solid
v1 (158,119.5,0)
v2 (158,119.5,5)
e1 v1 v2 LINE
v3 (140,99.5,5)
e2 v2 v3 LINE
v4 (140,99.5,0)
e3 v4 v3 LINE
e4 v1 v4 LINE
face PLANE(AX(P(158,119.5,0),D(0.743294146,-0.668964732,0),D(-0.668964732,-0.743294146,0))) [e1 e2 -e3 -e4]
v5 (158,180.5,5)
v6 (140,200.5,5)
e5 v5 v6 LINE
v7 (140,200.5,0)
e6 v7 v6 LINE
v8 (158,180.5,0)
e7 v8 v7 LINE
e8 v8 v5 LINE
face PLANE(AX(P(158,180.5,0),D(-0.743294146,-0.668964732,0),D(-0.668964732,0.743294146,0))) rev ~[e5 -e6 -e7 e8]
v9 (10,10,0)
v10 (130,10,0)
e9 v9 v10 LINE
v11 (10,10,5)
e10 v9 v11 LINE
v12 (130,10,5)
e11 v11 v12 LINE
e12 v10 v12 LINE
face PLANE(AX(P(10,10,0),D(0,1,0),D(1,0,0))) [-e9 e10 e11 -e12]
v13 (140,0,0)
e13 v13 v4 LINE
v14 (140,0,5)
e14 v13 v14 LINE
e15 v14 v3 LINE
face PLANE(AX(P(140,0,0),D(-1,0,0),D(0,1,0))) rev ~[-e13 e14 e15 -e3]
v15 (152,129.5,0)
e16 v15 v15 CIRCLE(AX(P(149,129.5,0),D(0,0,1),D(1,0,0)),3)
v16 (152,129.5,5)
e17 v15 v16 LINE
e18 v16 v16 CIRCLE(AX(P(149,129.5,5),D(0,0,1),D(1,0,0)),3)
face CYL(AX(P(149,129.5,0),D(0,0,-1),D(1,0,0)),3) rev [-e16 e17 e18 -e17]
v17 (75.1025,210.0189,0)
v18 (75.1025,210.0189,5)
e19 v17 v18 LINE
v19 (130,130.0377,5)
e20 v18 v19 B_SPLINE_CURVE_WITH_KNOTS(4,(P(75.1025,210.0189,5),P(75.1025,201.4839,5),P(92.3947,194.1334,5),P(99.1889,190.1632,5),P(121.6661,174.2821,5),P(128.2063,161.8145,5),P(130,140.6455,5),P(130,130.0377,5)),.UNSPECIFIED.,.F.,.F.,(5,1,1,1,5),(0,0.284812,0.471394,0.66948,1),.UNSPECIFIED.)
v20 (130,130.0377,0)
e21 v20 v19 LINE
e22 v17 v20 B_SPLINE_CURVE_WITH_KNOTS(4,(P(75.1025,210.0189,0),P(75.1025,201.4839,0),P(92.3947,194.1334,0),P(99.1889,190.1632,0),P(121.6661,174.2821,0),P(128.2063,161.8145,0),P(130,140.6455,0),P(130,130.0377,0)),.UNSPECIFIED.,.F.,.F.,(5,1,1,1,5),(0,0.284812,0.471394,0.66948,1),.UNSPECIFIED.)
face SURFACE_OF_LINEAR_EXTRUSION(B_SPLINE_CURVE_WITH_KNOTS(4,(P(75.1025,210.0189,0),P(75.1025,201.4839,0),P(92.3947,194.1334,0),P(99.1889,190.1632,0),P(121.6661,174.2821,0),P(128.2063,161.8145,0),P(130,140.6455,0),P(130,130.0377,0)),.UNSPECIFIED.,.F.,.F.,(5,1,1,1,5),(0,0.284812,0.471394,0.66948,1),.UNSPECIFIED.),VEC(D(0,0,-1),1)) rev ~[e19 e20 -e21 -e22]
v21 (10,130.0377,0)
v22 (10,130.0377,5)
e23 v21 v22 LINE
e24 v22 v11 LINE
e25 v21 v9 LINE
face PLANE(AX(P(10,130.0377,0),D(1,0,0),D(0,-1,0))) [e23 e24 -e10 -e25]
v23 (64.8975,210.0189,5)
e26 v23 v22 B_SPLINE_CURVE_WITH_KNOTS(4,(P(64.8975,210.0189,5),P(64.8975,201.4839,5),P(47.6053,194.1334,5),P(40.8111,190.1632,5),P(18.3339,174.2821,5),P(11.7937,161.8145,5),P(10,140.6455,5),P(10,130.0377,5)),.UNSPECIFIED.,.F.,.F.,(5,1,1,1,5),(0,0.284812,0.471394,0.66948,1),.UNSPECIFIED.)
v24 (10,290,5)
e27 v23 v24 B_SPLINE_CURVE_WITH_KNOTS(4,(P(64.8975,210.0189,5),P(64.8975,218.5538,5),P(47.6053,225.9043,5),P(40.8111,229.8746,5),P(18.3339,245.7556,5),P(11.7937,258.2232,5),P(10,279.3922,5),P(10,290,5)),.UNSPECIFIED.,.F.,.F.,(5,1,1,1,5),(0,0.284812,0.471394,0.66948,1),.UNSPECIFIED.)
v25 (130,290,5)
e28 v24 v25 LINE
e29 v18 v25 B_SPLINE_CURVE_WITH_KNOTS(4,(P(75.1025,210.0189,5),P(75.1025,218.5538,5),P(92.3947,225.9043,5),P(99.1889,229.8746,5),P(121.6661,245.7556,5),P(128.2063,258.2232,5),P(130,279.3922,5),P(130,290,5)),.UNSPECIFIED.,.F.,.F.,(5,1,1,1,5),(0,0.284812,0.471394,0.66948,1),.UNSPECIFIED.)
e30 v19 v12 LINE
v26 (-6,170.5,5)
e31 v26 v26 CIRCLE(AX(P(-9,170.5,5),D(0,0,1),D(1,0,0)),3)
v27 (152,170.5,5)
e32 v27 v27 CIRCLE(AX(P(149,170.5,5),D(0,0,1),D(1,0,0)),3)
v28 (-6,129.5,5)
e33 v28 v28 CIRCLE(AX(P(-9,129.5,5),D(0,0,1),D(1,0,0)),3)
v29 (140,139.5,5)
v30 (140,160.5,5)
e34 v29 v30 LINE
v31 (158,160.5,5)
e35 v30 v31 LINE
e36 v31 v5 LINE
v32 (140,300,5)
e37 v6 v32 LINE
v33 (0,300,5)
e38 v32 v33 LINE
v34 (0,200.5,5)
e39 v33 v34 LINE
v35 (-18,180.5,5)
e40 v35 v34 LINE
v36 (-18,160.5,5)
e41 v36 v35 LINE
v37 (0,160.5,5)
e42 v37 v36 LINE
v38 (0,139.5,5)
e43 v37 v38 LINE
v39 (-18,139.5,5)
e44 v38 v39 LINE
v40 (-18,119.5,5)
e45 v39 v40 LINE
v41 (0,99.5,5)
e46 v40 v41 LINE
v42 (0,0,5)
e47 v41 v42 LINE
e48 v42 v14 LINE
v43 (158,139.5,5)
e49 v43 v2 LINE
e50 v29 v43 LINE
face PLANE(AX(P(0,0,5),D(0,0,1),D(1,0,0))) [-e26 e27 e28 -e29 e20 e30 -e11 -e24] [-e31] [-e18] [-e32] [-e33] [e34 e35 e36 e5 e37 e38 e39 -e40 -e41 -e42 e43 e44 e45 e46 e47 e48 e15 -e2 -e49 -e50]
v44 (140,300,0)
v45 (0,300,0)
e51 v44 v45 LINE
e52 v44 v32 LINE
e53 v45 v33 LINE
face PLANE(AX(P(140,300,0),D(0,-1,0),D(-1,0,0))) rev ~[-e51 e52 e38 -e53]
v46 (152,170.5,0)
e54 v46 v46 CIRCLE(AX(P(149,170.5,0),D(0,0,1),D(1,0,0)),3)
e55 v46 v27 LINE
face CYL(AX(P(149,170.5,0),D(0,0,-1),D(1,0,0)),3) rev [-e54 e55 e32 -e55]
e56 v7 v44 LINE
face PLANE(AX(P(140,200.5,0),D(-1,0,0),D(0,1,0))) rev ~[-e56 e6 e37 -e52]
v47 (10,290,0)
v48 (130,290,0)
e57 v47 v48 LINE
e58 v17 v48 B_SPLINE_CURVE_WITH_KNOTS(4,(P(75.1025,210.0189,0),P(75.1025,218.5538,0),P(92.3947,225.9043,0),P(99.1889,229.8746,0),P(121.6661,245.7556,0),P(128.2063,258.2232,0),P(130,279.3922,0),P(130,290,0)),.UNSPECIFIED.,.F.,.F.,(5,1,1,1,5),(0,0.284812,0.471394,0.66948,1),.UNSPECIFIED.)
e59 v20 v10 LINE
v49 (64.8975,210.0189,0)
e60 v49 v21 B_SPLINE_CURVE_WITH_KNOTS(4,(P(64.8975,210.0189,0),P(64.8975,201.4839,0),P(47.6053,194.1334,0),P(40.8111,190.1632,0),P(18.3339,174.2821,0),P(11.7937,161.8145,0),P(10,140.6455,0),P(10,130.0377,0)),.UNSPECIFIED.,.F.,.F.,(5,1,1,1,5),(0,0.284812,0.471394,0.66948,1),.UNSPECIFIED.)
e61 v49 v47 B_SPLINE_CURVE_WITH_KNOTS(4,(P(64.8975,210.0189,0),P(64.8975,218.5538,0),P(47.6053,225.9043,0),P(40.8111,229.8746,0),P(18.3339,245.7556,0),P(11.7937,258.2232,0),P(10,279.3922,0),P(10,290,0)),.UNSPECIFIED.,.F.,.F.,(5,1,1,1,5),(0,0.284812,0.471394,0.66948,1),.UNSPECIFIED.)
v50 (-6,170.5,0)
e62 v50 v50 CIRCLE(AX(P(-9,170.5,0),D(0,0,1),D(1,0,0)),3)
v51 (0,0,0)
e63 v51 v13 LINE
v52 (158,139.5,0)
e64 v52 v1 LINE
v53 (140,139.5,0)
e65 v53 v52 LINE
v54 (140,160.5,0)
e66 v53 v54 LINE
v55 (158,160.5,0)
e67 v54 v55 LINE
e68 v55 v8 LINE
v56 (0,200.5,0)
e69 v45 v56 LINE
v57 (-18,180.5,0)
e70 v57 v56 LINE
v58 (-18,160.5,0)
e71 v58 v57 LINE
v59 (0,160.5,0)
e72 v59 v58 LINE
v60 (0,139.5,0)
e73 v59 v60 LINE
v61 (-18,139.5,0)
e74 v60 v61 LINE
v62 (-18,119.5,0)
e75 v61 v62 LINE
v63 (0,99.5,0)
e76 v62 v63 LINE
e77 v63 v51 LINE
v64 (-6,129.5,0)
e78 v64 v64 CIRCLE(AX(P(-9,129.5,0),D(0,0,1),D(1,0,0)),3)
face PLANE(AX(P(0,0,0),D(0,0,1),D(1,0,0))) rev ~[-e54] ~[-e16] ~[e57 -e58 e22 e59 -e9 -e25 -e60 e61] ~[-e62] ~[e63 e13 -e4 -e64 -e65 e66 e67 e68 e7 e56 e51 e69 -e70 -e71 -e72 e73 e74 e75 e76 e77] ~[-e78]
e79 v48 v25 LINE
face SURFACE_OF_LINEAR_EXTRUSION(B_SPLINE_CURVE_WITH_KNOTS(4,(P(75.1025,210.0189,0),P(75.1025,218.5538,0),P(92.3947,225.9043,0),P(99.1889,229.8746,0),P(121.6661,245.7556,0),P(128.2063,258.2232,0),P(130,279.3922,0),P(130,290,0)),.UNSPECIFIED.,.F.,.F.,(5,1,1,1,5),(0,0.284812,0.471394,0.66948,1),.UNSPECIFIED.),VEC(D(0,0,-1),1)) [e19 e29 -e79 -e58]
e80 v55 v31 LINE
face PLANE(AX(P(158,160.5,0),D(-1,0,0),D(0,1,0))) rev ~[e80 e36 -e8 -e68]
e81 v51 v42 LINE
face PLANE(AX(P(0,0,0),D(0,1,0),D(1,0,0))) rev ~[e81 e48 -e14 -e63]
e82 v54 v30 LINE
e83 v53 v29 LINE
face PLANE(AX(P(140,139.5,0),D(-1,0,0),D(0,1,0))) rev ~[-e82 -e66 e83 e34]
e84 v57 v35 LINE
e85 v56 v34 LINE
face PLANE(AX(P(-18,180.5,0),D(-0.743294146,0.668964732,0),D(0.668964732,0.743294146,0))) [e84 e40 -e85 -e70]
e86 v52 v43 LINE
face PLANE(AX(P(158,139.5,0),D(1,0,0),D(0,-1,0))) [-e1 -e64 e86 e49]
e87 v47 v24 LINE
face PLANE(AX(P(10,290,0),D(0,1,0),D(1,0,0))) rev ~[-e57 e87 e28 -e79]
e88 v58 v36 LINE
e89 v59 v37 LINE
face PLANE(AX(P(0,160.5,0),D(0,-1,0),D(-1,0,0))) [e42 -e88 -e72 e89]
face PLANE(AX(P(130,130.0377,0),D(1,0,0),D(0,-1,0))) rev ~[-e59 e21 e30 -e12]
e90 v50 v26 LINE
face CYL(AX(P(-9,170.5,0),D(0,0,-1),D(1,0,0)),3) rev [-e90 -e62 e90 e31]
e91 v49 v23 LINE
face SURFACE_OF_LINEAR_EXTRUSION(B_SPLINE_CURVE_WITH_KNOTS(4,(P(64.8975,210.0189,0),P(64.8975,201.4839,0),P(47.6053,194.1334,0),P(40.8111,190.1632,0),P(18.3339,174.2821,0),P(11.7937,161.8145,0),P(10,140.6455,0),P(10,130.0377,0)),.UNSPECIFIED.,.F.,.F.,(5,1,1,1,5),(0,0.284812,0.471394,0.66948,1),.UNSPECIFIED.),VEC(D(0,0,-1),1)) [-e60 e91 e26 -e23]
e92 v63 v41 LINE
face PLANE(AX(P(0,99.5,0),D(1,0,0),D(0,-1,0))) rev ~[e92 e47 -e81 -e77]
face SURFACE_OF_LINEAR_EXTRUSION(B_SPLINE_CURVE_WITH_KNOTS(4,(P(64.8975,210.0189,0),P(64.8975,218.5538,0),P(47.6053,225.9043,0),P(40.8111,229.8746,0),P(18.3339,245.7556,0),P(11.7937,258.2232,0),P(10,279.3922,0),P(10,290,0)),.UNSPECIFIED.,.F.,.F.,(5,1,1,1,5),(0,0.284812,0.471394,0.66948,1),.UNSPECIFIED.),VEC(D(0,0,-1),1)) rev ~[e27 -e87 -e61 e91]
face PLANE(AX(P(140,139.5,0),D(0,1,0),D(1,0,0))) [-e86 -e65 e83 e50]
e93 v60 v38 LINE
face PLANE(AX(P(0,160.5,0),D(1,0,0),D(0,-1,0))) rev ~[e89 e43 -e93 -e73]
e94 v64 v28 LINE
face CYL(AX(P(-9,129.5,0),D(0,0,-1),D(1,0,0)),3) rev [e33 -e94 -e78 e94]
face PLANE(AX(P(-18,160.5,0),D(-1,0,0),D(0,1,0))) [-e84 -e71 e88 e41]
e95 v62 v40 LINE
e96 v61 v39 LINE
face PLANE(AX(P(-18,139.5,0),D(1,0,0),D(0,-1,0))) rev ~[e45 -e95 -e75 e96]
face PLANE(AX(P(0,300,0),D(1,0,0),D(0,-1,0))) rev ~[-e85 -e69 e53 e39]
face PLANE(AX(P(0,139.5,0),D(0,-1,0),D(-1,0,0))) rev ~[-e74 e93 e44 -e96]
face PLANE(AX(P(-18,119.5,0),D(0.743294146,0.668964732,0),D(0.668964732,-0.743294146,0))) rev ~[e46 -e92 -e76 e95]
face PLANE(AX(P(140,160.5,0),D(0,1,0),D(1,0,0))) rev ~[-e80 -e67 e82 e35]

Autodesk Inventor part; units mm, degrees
ref_plane "YZ Plane" through (0, 0, 0) normal (1, 0, 0) x (0, 1, 0)
ref_plane "XZ Plane" through (0, 0, 0) normal (0, 1, 0) x (-1, 0, 0)
ref_plane "XY Plane" through (0, 0, 0) normal (0, 0, 1) x (1, 0, 0)
sketch "Sketch1" plane through (0, 0, 0) normal (0, 0, 1) x (1, 0, 0)
  line L0 (0, 0) -> (140, 0)
  line L1 (140, 0) -> (140, 300)
  line L2 (140, 300) -> (0, 300)
  line L3 (0, 300) -> (0, 0)
  line L4 (10, 290) -> (130, 290)
  line L5 (130, 290) -> (130, 10) construction
  line L6 (130, 10) -> (10, 10) construction
  line L7 (10, 10) -> (10, 290) construction
  line L8 (55.013, 210.0189) -> (44.1329, 210.0189) construction
  line L9 (10, 290) -> (130, 290) construction
  line L10 (70, 311.1686) -> (70, 319.6965) construction
  line L11 (64.8975, 210.0189) -> (64.8975, 204.1374) construction
  line L12 (75.1025, 210.0189) -> (75.1025, 204.1374) construction
  spline S0 degree 4 poles (64.8975, 210.0189) (64.8975, 218.5538) (47.6053, 225.9043) (40.8111, 229.8746) (18.3339, 245.7556) (11.7937, 258.2232) (10, 279.3922) (10, 290) knots 0 0 0 0 0 0.284812 0.471394 0.66948 1 1 1 1 1
  line L13 (10, 290) -> (10, 266.9306) construction
  spline S1 degree 4 poles (75.1025, 210.0189) (75.1025, 218.5538) (92.3947, 225.9043) (99.1889, 229.8746) (121.6661, 245.7556) (128.2063, 258.2232) (130, 279.3922) (130, 290) knots 0 0 0 0 0 0.284812 0.471394 0.66948 1 1 1 1 1
  spline S2 degree 4 poles (64.8975, 210.0189) (64.8975, 201.4839) (47.6053, 194.1334) (40.8111, 190.1632) (18.3339, 174.2821) (11.7937, 161.8145) (10, 140.6455) (10, 130.0377) knots 0 0 0 0 0 0.284812 0.471394 0.66948 1 1 1 1 1
  spline S3 degree 4 poles (75.1025, 210.0189) (75.1025, 201.4839) (92.3947, 194.1334) (99.1889, 190.1632) (121.6661, 174.2821) (128.2063, 161.8145) (130, 140.6455) (130, 130.0377) knots 0 0 0 0 0 0.284812 0.471394 0.66948 1 1 1 1 1
  line L14 (10, 130.0377) -> (10, 10)
  line L15 (130, 130.0377) -> (130, 10)
  line L16 (10, 10) -> (130, 10)
  line L17 (240, 186.8124) -> (240, 163.5372) construction
  line L18 (480, 0) -> (340, 0) construction
  line L19 (340, 0) -> (340, 300) construction
  line L20 (340, 300) -> (480, 300) construction
  line L21 (480, 300) -> (480, 0) construction
  line L22 (470, 290) -> (350, 290) construction
  line L23 (350, 290) -> (350, 10) construction
  line L24 (350, 10) -> (470, 10) construction
  line L25 (470, 10) -> (470, 290) construction
  line L26 (424.987, 210.0189) -> (435.8671, 210.0189) construction
  line L27 (470, 290) -> (350, 290) construction
  line L28 (410, 311.1686) -> (410, 319.6965) construction
  line L29 (415.1025, 210.0189) -> (415.1025, 204.1374) construction
  line L30 (404.8975, 210.0189) -> (404.8975, 204.1374) construction
  spline S4 degree 4 poles (415.1025, 210.0189) (415.1025, 218.5538) (432.3947, 225.9043) (439.1889, 229.8746) (461.6661, 245.7556) (468.2063, 258.2232) (470, 279.3922) (470, 290) knots 0 0 0 0 0 0.284812 0.471394 0.66948 1 1 1 1 1 construction
  line L31 (470, 290) -> (470, 266.9306) construction
  spline S5 degree 4 poles (404.8975, 210.0189) (394.814, 224.8509) (381.6315, 227.4313) (352.9317, 245.1456) (350.4567, 267.2032) (350, 290) knots 0 0 0 0 0 0.471394 1 1 1 1 1 construction
  spline S6 degree 4 poles (415.1025, 210.0189) (425.186, 195.1868) (438.3685, 192.6065) (467.0683, 174.8921) (469.5433, 152.8345) (470, 130.0377) knots 0 0 0 0 0 0.471394 1 1 1 1 1 construction
  spline S7 degree 4 poles (404.8975, 210.0189) (394.814, 195.1868) (381.6315, 192.6065) (352.9317, 174.8921) (350.4567, 152.8345) (350, 130.0377) knots 0 0 0 0 0 0.471394 1 1 1 1 1 construction
  line L32 (355, 14.5) -> (355, 130.0377)
  line L33 (355, 130.0377) -> (357, 130.0377)
  line L34 (357, 130.0377) -> (357, 14.5)
  arc A0 (353.5, 13) -> (355, 14.5) centre (353.5, 14.5) ccw
  arc A1 (351, 14.5) -> (352.5, 13) centre (352.5, 14.5) ccw construction
  line L35 (352.5, 13) -> (353.5, 13)
  arc A2 (357, 14.5) -> (358.5, 13) centre (358.5, 14.5) ccw
  line L36 (358.5, 13) -> (359.5, 13)
  line L37 (361, 14.5) -> (361, 130.0377)
  line L38 (363, 130.0377) -> (363, 14.5)
  arc A3 (359.5, 13) -> (361, 14.5) centre (359.5, 14.5) ccw
  line L39 (361, 130.0377) -> (363, 130.0377)
  arc A4 (363, 14.5) -> (364.5, 13) centre (364.5, 14.5) ccw
  line L40 (364.5, 13) -> (365.5, 13)
  line L41 (367, 14.5) -> (367, 130.0377)
  line L42 (369, 130.0377) -> (369, 14.5)
  arc A5 (365.5, 13) -> (367, 14.5) centre (365.5, 14.5) ccw
  line L43 (367, 130.0377) -> (369, 130.0377)
  arc A6 (369, 14.5) -> (370.5, 13) centre (370.5, 14.5) ccw
  line L44 (370.5, 13) -> (371.5, 13)
  line L45 (373, 14.5) -> (373, 130.0377)
  line L46 (375, 130.0377) -> (375, 14.5)
  arc A7 (371.5, 13) -> (373, 14.5) centre (371.5, 14.5) ccw
  line L47 (373, 130.0377) -> (375, 130.0377)
  arc A8 (375, 14.5) -> (376.5, 13) centre (376.5, 14.5) ccw
  line L48 (376.5, 13) -> (377.5, 13)
  line L49 (379, 14.5) -> (379, 130.0377)
  line L50 (381, 130.0377) -> (381, 14.5)
  arc A9 (377.5, 13) -> (379, 14.5) centre (377.5, 14.5) ccw
  line L51 (379, 130.0377) -> (381, 130.0377)
  arc A10 (381, 14.5) -> (382.5, 13) centre (382.5, 14.5) ccw
  line L52 (382.5, 13) -> (383.5, 13)
  line L53 (385, 14.5) -> (385, 130.0377)
  line L54 (387, 130.0377) -> (387, 14.5)
  arc A11 (383.5, 13) -> (385, 14.5) centre (383.5, 14.5) ccw
  line L55 (385, 130.0377) -> (387, 130.0377)
  arc A12 (387, 14.5) -> (388.5, 13) centre (388.5, 14.5) ccw
  line L56 (388.5, 13) -> (389.5, 13)
  line L57 (391, 14.5) -> (391, 130.0377)
  line L58 (393, 130.0377) -> (393, 14.5)
  arc A13 (389.5, 13) -> (391, 14.5) centre (389.5, 14.5) ccw
  line L59 (391, 130.0377) -> (393, 130.0377)
  arc A14 (393, 14.5) -> (394.5, 13) centre (394.5, 14.5) ccw
  line L60 (394.5, 13) -> (395.5, 13)
  line L61 (397, 14.5) -> (397, 130.0377)
  line L62 (399, 130.0377) -> (399, 14.5)
  arc A15 (395.5, 13) -> (397, 14.5) centre (395.5, 14.5) ccw
  line L63 (397, 130.0377) -> (399, 130.0377)
  arc A16 (399, 14.5) -> (400.5, 13) centre (400.5, 14.5) ccw
  line L64 (400.5, 13) -> (401.5, 13)
  line L65 (403, 14.5) -> (403, 130.0377)
  line L66 (405, 130.0377) -> (405, 14.5)
  arc A17 (401.5, 13) -> (403, 14.5) centre (401.5, 14.5) ccw
  line L67 (403, 130.0377) -> (405, 130.0377)
  arc A18 (405, 14.5) -> (406.5, 13) centre (406.5, 14.5) ccw
  line L68 (406.5, 13) -> (407.5, 13)
  line L69 (409, 14.5) -> (409, 130.0377)
  line L70 (411, 130.0377) -> (411, 14.5)
  arc A19 (407.5, 13) -> (409, 14.5) centre (407.5, 14.5) ccw
  line L71 (409, 130.0377) -> (411, 130.0377)
  arc A20 (411, 14.5) -> (412.5, 13) centre (412.5, 14.5) ccw
  line L72 (412.5, 13) -> (413.5, 13)
  line L73 (415, 14.5) -> (415, 130.0377)
  line L74 (417, 130.0377) -> (417, 14.5)
  arc A21 (413.5, 13) -> (415, 14.5) centre (413.5, 14.5) ccw
  line L75 (415, 130.0377) -> (417, 130.0377)
  arc A22 (417, 14.5) -> (418.5, 13) centre (418.5, 14.5) ccw
  line L76 (418.5, 13) -> (419.5, 13)
  line L77 (421, 14.5) -> (421, 130.0377)
  line L78 (423, 130.0377) -> (423, 14.5)
  arc A23 (419.5, 13) -> (421, 14.5) centre (419.5, 14.5) ccw
  line L79 (421, 130.0377) -> (423, 130.0377)
  arc A24 (423, 14.5) -> (424.5, 13) centre (424.5, 14.5) ccw
  line L80 (424.5, 13) -> (425.5, 13)
  line L81 (427, 14.5) -> (427, 130.0377)
  line L82 (429, 130.0377) -> (429, 14.5)
  arc A25 (425.5, 13) -> (427, 14.5) centre (425.5, 14.5) ccw
  line L83 (427, 130.0377) -> (429, 130.0377)
  arc A26 (429, 14.5) -> (430.5, 13) centre (430.5, 14.5) ccw
  line L84 (430.5, 13) -> (431.5, 13)
  line L85 (433, 14.5) -> (433, 130.0377)
  line L86 (435, 130.0377) -> (435, 14.5)
  arc A27 (431.5, 13) -> (433, 14.5) centre (431.5, 14.5) ccw
  line L87 (433, 130.0377) -> (435, 130.0377)
  arc A28 (435, 14.5) -> (436.5, 13) centre (436.5, 14.5) ccw
  line L88 (436.5, 13) -> (437.5, 13)
  line L89 (439, 14.5) -> (439, 130.0377)
  line L90 (441, 130.0377) -> (441, 14.5)
  arc A29 (437.5, 13) -> (439, 14.5) centre (437.5, 14.5) ccw
  line L91 (439, 130.0377) -> (441, 130.0377)
  arc A30 (441, 14.5) -> (442.5, 13) centre (442.5, 14.5) ccw
  line L92 (442.5, 13) -> (443.5, 13)
  line L93 (445, 14.5) -> (445, 130.0377)
  line L94 (447, 130.0377) -> (447, 14.5)
  arc A31 (443.5, 13) -> (445, 14.5) centre (443.5, 14.5) ccw
  line L95 (445, 130.0377) -> (447, 130.0377)
  arc A32 (447, 14.5) -> (448.5, 13) centre (448.5, 14.5) ccw
  line L96 (448.5, 13) -> (449.5, 13)
  line L97 (451, 14.5) -> (451, 130.0377)
  line L98 (453, 130.0377) -> (453, 14.5)
  arc A33 (449.5, 13) -> (451, 14.5) centre (449.5, 14.5) ccw
  line L99 (451, 130.0377) -> (453, 130.0377)
  arc A34 (453, 14.5) -> (454.5, 13) centre (454.5, 14.5) ccw
  line L100 (454.5, 13) -> (455.5, 13)
  line L101 (457, 14.5) -> (457, 130.0377)
  line L102 (459, 130.0377) -> (459, 14.5)
  arc A35 (455.5, 13) -> (457, 14.5) centre (455.5, 14.5) ccw
  line L103 (457, 130.0377) -> (459, 130.0377)
  arc A36 (459, 14.5) -> (460.5, 13) centre (460.5, 14.5) ccw
  line L104 (460.5, 13) -> (461.5, 13)
  line L105 (463, 14.5) -> (463, 130.0377)
  line L106 (465, 130.0377) -> (465, 14.5)
  arc A37 (461.5, 13) -> (463, 14.5) centre (461.5, 14.5) ccw
  line L107 (463, 130.0377) -> (465, 130.0377)
  arc A38 (465, 14.5) -> (466.5, 13) centre (466.5, 14.5) ccw
  line L108 (466.5, 13) -> (470, 13)
  line L109 (470, 10) -> (470, 13)
  line L110 (470, 10) -> (350, 10)
  line L111 (350, 10) -> (350, 13)
  line L112 (352.5, 13) -> (350, 13)
  line L113 (740, 300) -> (600, 300)
  line L114 (610, 290) -> (730, 290) construction
  line L115 (610, 290) -> (730, 290) construction
  spline S8 degree 4 poles (675.1025, 210.0189) (675.1025, 218.5538) (692.3947, 225.9043) (699.1889, 229.8746) (721.6661, 245.7556) (728.2063, 258.2232) (730, 279.3922) (730, 290) knots 0 0 0 0 0 0.284812 0.471394 0.66948 1 1 1 1 1 construction
  line L116 (664.8975, 210.0189) -> (664.8975, 204.1374) construction
  line L117 (610, 290) -> (610, 266.9306) construction
  spline S9 degree 4 poles (664.8975, 210.0189) (664.8975, 218.5538) (647.6053, 225.9043) (640.8111, 229.8746) (618.3339, 245.7556) (611.7937, 258.2232) (610, 279.3922) (610, 290) knots 0 0 0 0 0 0.284812 0.471394 0.66948 1 1 1 1 1 construction
  line L118 (675.1025, 210.0189) -> (675.1025, 204.1374) construction
  spline S10 degree 4 poles (675.1025, 210.0189) (675.1025, 201.4839) (692.3947, 194.1334) (699.1889, 190.1632) (721.6661, 174.2821) (728.2063, 161.8145) (730, 140.6455) (730, 130.0377) knots 0 0 0 0 0 0.284812 0.471394 0.66948 1 1 1 1 1 construction
  spline S11 degree 4 poles (664.8975, 210.0189) (664.8975, 201.4839) (647.6053, 194.1334) (640.8111, 190.1632) (618.3339, 174.2821) (611.7937, 161.8145) (610, 140.6455) (610, 130.0377) knots 0 0 0 0 0 0.284812 0.471394 0.66948 1 1 1 1 1 construction
  line L119 (730, 290) -> (730, 10) construction
  line L120 (610, 10) -> (610, 290) construction
  line L121 (740, 0) -> (740, 300)
  line L122 (600, 300) -> (600, 0)
  line L123 (610, 130.0377) -> (610, 10) construction
  line L124 (730, 10) -> (610, 10) construction
  line L125 (610, 10) -> (730, 10) construction
  line L126 (730, 130.0377) -> (730, 10) construction
  line L127 (600, 0) -> (740, 0)
  circle A39 centre (670, 187.6403) radius 1.45
  line L128 (661.5147, 179.155) -> (670, 187.6403) construction
  line L129 (670, 187.6403) -> (661.5147, 179.155) construction
  line L130 (661.5147, 179.155) -> (678.4853, 179.155) construction
  line L131 (130, 290) -> (130, 293.3347) construction
  line L132 (730, 290) -> (730, 294.5645) construction
  line L133 (670, 187.6403) -> (667.2579, 190.3824) construction
  line L134 (661.5147, 179.155) -> (658.7726, 181.8971) construction
  circle A40 centre (661.5147, 179.155) radius 1.45
  circle A41 centre (653.0294, 170.6697) radius 1.45
  circle A42 centre (644.5442, 162.1844) radius 1.45
  circle A43 centre (636.0589, 153.6991) radius 1.45
  circle A44 centre (627.5736, 145.2139) radius 1.45
  circle A45 centre (619.0883, 136.7286) radius 1.45
  circle A46 centre (619.0883, 153.6991) radius 1.45
  circle A47 centre (627.5736, 162.1844) radius 1.45
  circle A48 centre (636.0589, 170.6697) radius 1.45
  circle A49 centre (644.5442, 179.155) radius 1.45
  circle A50 centre (653.0294, 187.6403) radius 1.45
  circle A51 centre (686.9706, 187.6403) radius 1.45
  circle A52 centre (678.4853, 179.155) radius 1.45
  circle A53 centre (670, 170.6697) radius 1.45
  circle A54 centre (661.5147, 162.1844) radius 1.45
  circle A55 centre (653.0294, 153.6991) radius 1.45
  circle A56 centre (644.5442, 145.2139) radius 1.45
  circle A57 centre (636.0589, 136.7286) radius 1.45
  circle A58 centre (695.4558, 179.155) radius 1.45
  circle A59 centre (686.9706, 170.6697) radius 1.45
  circle A60 centre (670, 170.6697) radius 1.45
  circle A61 centre (661.5147, 162.1844) radius 1.45
  circle A62 centre (678.4853, 162.1844) radius 1.45
  circle A63 centre (653.0294, 153.6991) radius 1.45
  circle A64 centre (670, 153.6991) radius 1.45
  circle A65 centre (661.5147, 145.2139) radius 1.45
  circle A66 centre (644.5442, 145.2139) radius 1.45
  circle A67 centre (636.0589, 136.7286) radius 1.45
  circle A68 centre (653.0294, 136.7286) radius 1.45
  circle A69 centre (695.4558, 162.1844) radius 1.45
  circle A70 centre (686.9706, 153.6991) radius 1.45
  circle A71 centre (678.4853, 145.2139) radius 1.45
  circle A72 centre (670, 136.7286) radius 1.45
  circle A73 centre (712.4264, 162.1844) radius 1.45
  circle A74 centre (703.9411, 153.6991) radius 1.45
  circle A75 centre (695.4558, 145.2139) radius 1.45
  circle A76 centre (686.9706, 136.7286) radius 1.45
  circle A77 centre (703.9411, 170.6697) radius 1.45
  circle A78 centre (720.9117, 153.6991) radius 1.45
  circle A79 centre (712.4264, 145.2139) radius 1.45
  circle A80 centre (703.9411, 136.7286) radius 1.45
  circle A81 centre (720.9117, 136.7286) radius 1.45
  line L135 (0, 160.5) -> (-18, 160.5)
  line L136 (-18, 160.5) -> (-18, 180.5)
  line L137 (-18, 180.5) -> (0, 180.5) construction
  line L138 (0, 180.5) -> (0, 160.5)
  line L139 (-24.3067, 150) -> (-34.4998, 150) construction
  circle A82 centre (-9, 170.5) radius 3
  line L140 (-18, 180.5) -> (0, 200.5)
  line L141 (0, 139.5) -> (-18, 139.5)
  line L142 (-18, 139.5) -> (-18, 119.5)
  circle A83 centre (-9, 129.5) radius 3
  line L143 (-18, 119.5) -> (0, 99.5)
  line L144 (140, 160.5) -> (158, 160.5)
  line L145 (158, 160.5) -> (158, 180.5)
  circle A84 centre (149, 170.5) radius 3
  line L146 (158, 180.5) -> (140, 200.5)
  line L147 (158, 139.5) -> (158, 119.5)
  line L148 (140, 139.5) -> (158, 139.5)
  circle A85 centre (149, 129.5) radius 3
  line L149 (158, 119.5) -> (140, 99.5)
  line L150 (582, 180.5) -> (600, 200.5)
  line L151 (582, 160.5) -> (582, 180.5)
  circle A86 centre (591, 170.5) radius 3
  line L152 (600, 139.5) -> (582, 139.5)
  circle A87 centre (591, 129.5) radius 3
  line L153 (582, 139.5) -> (582, 119.5)
  line L154 (582, 119.5) -> (600, 99.5)
  line L155 (758, 180.5) -> (740, 200.5)
  line L156 (758, 160.5) -> (758, 180.5)
  circle A88 centre (749, 170.5) radius 3
  line L157 (740, 160.5) -> (758, 160.5)
  line L158 (740, 139.5) -> (758, 139.5)
  circle A89 centre (749, 129.5) radius 3
  line L159 (758, 139.5) -> (758, 119.5)
  line L160 (758, 119.5) -> (740, 99.5)
  line L161 (600, 160.5) -> (582, 160.5)
  line L162 (600, 200.5) -> (600, 300)
  line L163 (600, 300) -> (740, 300)
  line L164 (740, 300) -> (740, 200.5)
  line L165 (740, 160.5) -> (740, 139.5)
  line L166 (740, 99.5) -> (740, 0)
  line L167 (740, 0) -> (600, 0)
  line L168 (600, 0) -> (600, 99.5)
  line L169 (600, 139.5) -> (600, 160.5)
  line L170 (780, 153.6991) -> (780, 161.6118) construction
  line L171 (820, 300) -> (960, 300)
  line L172 (960, 0) -> (820, 0)
  line L173 (978, 180.5) -> (960, 200.5)
  line L174 (978, 160.5) -> (978, 180.5)
  circle A90 centre (969, 170.5) radius 3
  line L175 (960, 139.5) -> (978, 139.5)
  circle A91 centre (969, 129.5) radius 3
  line L176 (978, 139.5) -> (978, 119.5)
  line L177 (978, 119.5) -> (960, 99.5)
  line L178 (802, 180.5) -> (820, 200.5)
  line L179 (802, 160.5) -> (802, 180.5)
  circle A92 centre (811, 170.5) radius 3
  line L180 (820, 160.5) -> (802, 160.5)
  line L181 (820, 139.5) -> (802, 139.5)
  circle A93 centre (811, 129.5) radius 3
  line L182 (802, 139.5) -> (802, 119.5)
  line L183 (802, 119.5) -> (820, 99.5)
  line L184 (960, 160.5) -> (978, 160.5)
  line L185 (960, 200.5) -> (960, 300)
  line L186 (960, 300) -> (820, 300)
  line L187 (820, 300) -> (820, 200.5)
  line L188 (820, 160.5) -> (820, 139.5)
  line L189 (820, 99.5) -> (820, 0)
  line L190 (820, 0) -> (960, 0)
  line L191 (960, 0) -> (960, 99.5)
  line L192 (960, 139.5) -> (960, 160.5)
  line L193 (582, -180.5) -> (582, -200.5) construction
  circle A94 centre (591, -190.5) radius 3 construction
  line L194 (600, -159.5) -> (582, -159.5) construction
  line L195 (600, -180.5) -> (582, -180.5) construction
  line L196 (582, -200.5) -> (600, -220.5) construction
  line L197 (582, -139.5) -> (600, -119.5) construction
  line L198 (582, -159.5) -> (582, -139.5) construction
  circle A95 centre (591, -149.5) radius 3 construction
  circle A96 centre (619.0883, -166.3009) radius 1.45 construction
  circle A97 centre (627.5736, -174.7861) radius 1.45 construction
  circle A98 centre (644.5442, -157.8156) radius 1.45 construction
  circle A99 centre (627.5736, -157.8156) radius 1.45 construction
  circle A100 centre (644.5442, -174.7861) radius 1.45 construction
  circle A101 centre (636.0589, -183.2714) radius 1.45 construction
  line L199 (600, -180.5) -> (600, -159.5) construction
  circle A102 centre (636.0589, -183.2714) radius 1.45 construction
  circle A103 centre (644.5442, -174.7861) radius 1.45 construction
  circle A104 centre (619.0883, -183.2714) radius 1.45 construction
  circle A105 centre (636.0589, -166.3009) radius 1.45 construction
  circle A106 centre (653.0294, -183.2714) radius 1.45 construction
  circle A107 centre (661.5147, -174.7861) radius 1.45 construction
  line L200 (664.8975, -109.9811) -> (664.8975, -115.8626) construction
  line L201 (610, -30) -> (610, -53.0694) construction
  spline S12 degree 4 poles (664.8975, -109.9811) (664.8975, -118.5161) (647.6053, -125.8666) (640.8111, -129.8368) (618.3339, -145.7179) (611.7937, -158.1855) (610, -179.3545) (610, -189.9623) knots 0 0 0 0 0 0.284812 0.471394 0.66948 1 1 1 1 1 construction
  circle A108 centre (670, -149.3303) radius 1.45 construction
  circle A109 centre (678.4853, -140.845) radius 1.45 construction
  circle A110 centre (686.9706, -166.3009) radius 1.45 construction
  circle A111 centre (670, -166.3009) radius 1.45 construction
  circle A112 centre (653.0294, -166.3009) radius 1.45 construction
  circle A113 centre (653.0294, -166.3009) radius 1.45 construction
  spline S13 degree 4 poles (664.8975, -109.9811) (664.8975, -101.4462) (647.6053, -94.0957) (640.8111, -90.1254) (618.3339, -74.2444) (611.7937, -61.7768) (610, -40.6078) (610, -30) knots 0 0 0 0 0 0.284812 0.471394 0.66948 1 1 1 1 1 construction
  circle A114 centre (670, -132.3597) radius 1.45 construction
  circle A115 centre (636.0589, -149.3303) radius 1.45 construction
  circle A116 centre (653.0294, -149.3303) radius 1.45 construction
  circle A117 centre (644.5442, -140.845) radius 1.45 construction
  circle A118 centre (653.0294, -132.3597) radius 1.45 construction
  line L202 (661.5147, -140.845) -> (658.7726, -138.1029) construction
  line L203 (661.5147, -140.845) -> (670, -132.3597) construction
  line L204 (670, -132.3597) -> (661.5147, -140.845) construction
  line L205 (670, -132.3597) -> (667.2579, -129.6176) construction
  line L206 (661.5147, -140.845) -> (678.4853, -140.845) construction
  circle A119 centre (686.9706, -132.3597) radius 1.45 construction
  line L207 (600, -119.5) -> (600, -20) construction
  line L208 (600, -20) -> (740, -20) construction
  line L209 (730, -30) -> (730, -25.4355) construction
  line L210 (740, -20) -> (740, -119.5) construction
  circle A120 centre (661.5147, -140.845) radius 1.45 construction
  line L211 (610, -189.9623) -> (610, -310) construction
  line L212 (600, -320) -> (600, -220.5) construction
  line L213 (730, -310) -> (610, -310) construction
  line L214 (610, -310) -> (730, -310) construction
  line L215 (600, -320) -> (740, -320) construction
  line L216 (740, -320) -> (600, -320) construction
  line L217 (730, -189.9623) -> (730, -310) construction
  line L218 (740, -220.5) -> (740, -320) construction
  line L219 (740, -20) -> (600, -20) construction
  line L220 (675.1025, -109.9811) -> (675.1025, -115.8626) construction
  line L221 (610, -30) -> (730, -30) construction
  line L222 (610, -30) -> (730, -30) construction
  spline S14 degree 4 poles (675.1025, -109.9811) (675.1025, -101.4462) (692.3947, -94.0957) (699.1889, -90.1254) (721.6661, -74.2444) (728.2063, -61.7768) (730, -40.6078) (730, -30) knots 0 0 0 0 0 0.284812 0.471394 0.66948 1 1 1 1 1 construction
  line L223 (610, -310) -> (610, -30) construction
  line L224 (600, -20) -> (600, -320) construction
  line L225 (740, -320) -> (740, -20) construction
  line L226 (730, -30) -> (730, -310) construction
  circle A121 centre (678.4853, -174.7861) radius 1.45 construction
  circle A122 centre (670, -183.2714) radius 1.45 construction
  spline S15 degree 4 poles (675.1025, -109.9811) (675.1025, -118.5161) (692.3947, -125.8666) (699.1889, -129.8368) (721.6661, -145.7179) (728.2063, -158.1855) (730, -179.3545) (730, -189.9623) knots 0 0 0 0 0 0.284812 0.471394 0.66948 1 1 1 1 1 construction
  circle A123 centre (686.9706, -183.2714) radius 1.45 construction
  circle A124 centre (670, -149.3303) radius 1.45 construction
  circle A125 centre (661.5147, -157.8156) radius 1.45 construction
  circle A126 centre (695.4558, -140.845) radius 1.45 construction
  circle A127 centre (686.9706, -149.3303) radius 1.45 construction
  circle A128 centre (678.4853, -157.8156) radius 1.45 construction
  circle A129 centre (703.9411, -149.3303) radius 1.45 construction
  line L227 (758, -139.5) -> (740, -119.5) construction
  circle A130 centre (749, -149.5) radius 3 construction
  line L228 (758, -159.5) -> (758, -139.5) construction
  circle A131 centre (661.5147, -157.8156) radius 1.45 construction
  circle A132 centre (703.9411, -183.2714) radius 1.45 construction
  circle A133 centre (712.4264, -174.7861) radius 1.45 construction
  circle A134 centre (720.9117, -183.2714) radius 1.45 construction
  circle A135 centre (695.4558, -174.7861) radius 1.45 construction
  line L229 (740, -159.5) -> (740, -180.5) construction
  line L230 (758, -200.5) -> (740, -220.5) construction
  circle A136 centre (749, -190.5) radius 3 construction
  line L231 (758, -180.5) -> (758, -200.5) construction
  line L232 (740, -180.5) -> (758, -180.5) construction
  line L233 (740, -159.5) -> (758, -159.5) construction
  circle A137 centre (720.9117, -166.3009) radius 1.45 construction
  circle A138 centre (703.9411, -166.3009) radius 1.45 construction
  circle A139 centre (695.4558, -157.8156) radius 1.45 construction
  circle A140 centre (712.4264, -157.8156) radius 1.45 construction
  line L234 (600, -122.3597) -> (740, -122.3597)
  line L235 (740, -122.3597) -> (740, -193.2714)
  line L236 (740, -193.2714) -> (600, -193.2714)
  line L237 (600, -193.2714) -> (600, -122.3597)
  point P0 (70, 290)
  point P1 (70, 300)
  point P2 (10, 150)
  point P3 (0, 150)
  point P4 (70, 290)
  point P5 (70, 315.4325)
  point P6 (49.5729, 210.0189)
  point P7 (49.5729, 225.4245)
  point P8 (37.5413, 232.3974)
  point P9 (24.0774, 242.8841)
  point P10 (14.2457, 257.8533)
  point P11 (90.4271, 225.4245)
  point P12 (102.4587, 232.3974)
  point P13 (115.9226, 242.8841)
  point P14 (125.7543, 257.8533)
  point P15 (49.5729, 194.6132)
  point P16 (37.5413, 187.6403)
  point P17 (24.0774, 177.1536)
  point P18 (14.2457, 162.1844)
  point P19 (90.4271, 194.6132)
  point P20 (102.4587, 187.6403)
  point P21 (115.9226, 177.1536)
  point P22 (125.7543, 162.1844)
  point P23 (410, 290)
  point P24 (410, 300)
  point P25 (470, 150)
  point P26 (480, 150)
  point P27 (410, 290)
  point P28 (410, 315.4325)
  point P29 (430.4271, 210.0189)
  point P30 (430.4271, 225.4245)
  point P31 (442.4587, 232.3974)
  point P32 (455.9226, 242.8841)
  point P33 (465.7543, 257.8533)
  point P34 (389.5729, 225.4245)
  point P35 (377.5413, 232.3974)
  point P36 (364.0774, 242.8841)
  point P37 (354.2457, 257.8533)
  point P38 (430.4271, 194.6132)
  point P39 (442.4587, 187.6403)
  point P40 (455.9226, 177.1536)
  point P41 (465.7543, 162.1844)
  point P42 (389.5729, 194.6132)
  point P43 (377.5413, 187.6403)
  point P44 (364.0774, 177.1536)
  point P45 (354.2457, 162.1844)
  point P46 (356, 130.0377)
  point P47 (362, 130.0377)
  point P48 (368, 130.0377)
  point P49 (374, 130.0377)
  point P50 (380, 130.0377)
  point P51 (386, 130.0377)
  point P52 (392, 130.0377)
  point P53 (398, 130.0377)
  point P54 (404, 130.0377)
  point P55 (410, 130.0377)
  point P56 (416, 130.0377)
  point P57 (422, 130.0377)
  point P58 (428, 130.0377)
  point P59 (434, 130.0377)
  point P60 (440, 130.0377)
  point P61 (446, 130.0377)
  point P62 (452, 130.0377)
  point P63 (458, 130.0377)
  point P64 (464, 130.0377)
  point P65 (410, 130.0377)
  point P66 (410, 315.4325)
  point P67 (670, 300)
  point P68 (670, 290)
  point P69 (670, 290)
  point P70 (690.4271, 225.4245)
  point P71 (702.4587, 232.3974)
  point P72 (715.9226, 242.8841)
  point P73 (725.7543, 257.8533)
  point P74 (649.5729, 225.4245)
  point P75 (637.5413, 232.3974)
  point P76 (624.0774, 242.8841)
  point P77 (614.2457, 257.8533)
  point P78 (690.4271, 194.6132)
  point P79 (649.5729, 194.6132)
  point P80 (702.4587, 187.6403)
  point P81 (637.5413, 187.6403)
  point P82 (715.9226, 177.1536)
  point P83 (624.0774, 177.1536)
  point P84 (614.2457, 162.1844)
  point P85 (725.7543, 162.1844)
  point P86 (610, 150)
  point P87 (600, 150)
  point P88 (670, 179.155)
  point P89 (670, 300)
  point P90 (-29.4032, 150)
  point P91 (-18, 170.5)
  point P92 (-9, 180.5)
  point P93 (582, 170.5)
  point P94 (890, 300)
  point P95 (960, 150)
  point P96 (890, 300)
  point P97 (978, 170.5)
  point P98 (582, -149.5)
  point P99 (600, -170)
  point P100 (670, -30)
  point P101 (670, -30)
  point P102 (670, -20)
  point P103 (637.5413, -132.3597)
  point P104 (624.0774, -142.8464)
  point P105 (614.2457, -157.8156)
  point P106 (649.5729, -125.3868)
  point P107 (610, -170)
  point P108 (670, -140.845)
  point P109 (649.5729, -94.5755)
  point P110 (637.5413, -87.6026)
  point P111 (624.0774, -77.1159)
  point P112 (614.2457, -62.1467)
  point P113 (670, -20)
  point P114 (690.4271, -94.5755)
  point P115 (702.4587, -87.6026)
  point P116 (725.7543, -62.1467)
  point P117 (702.4587, -132.3597)
  point P118 (715.9226, -77.1159)
  point P119 (690.4271, -125.3868)
  point P120 (715.9226, -142.8464)
  point P121 (725.7543, -157.8156)
  point P122 (0, 99.5)
  point P123 (130, 290)
  dimension "d0" = 140
  dimension "d1" = 300
  dimension "d2" = 10
  dimension "d3" = 10
  dimension "d5" = 100
  dimension "d6" = 2
  dimension "d9" = 79.9811
  dimension "d12" = 1.5
  dimension "d13" = 1.5
  dimension "d15" = 4
  dimension "d18" = 6
  dimension "d23" = 3
  dimension "d26" = 600
  dimension "d33" = 2.9
  dimension "d34" = 45
  dimension "d35" = 12
  dimension "d38" = 12
  dimension "d45" = 16.9706
  dimension "d52" = 16.9706
  dimension "d59" = 16.9706
  dimension "d66" = 16.9706
  dimension "d73" = 16.9706
  dimension "d80" = 16.9706
  dimension "d85" = 18
  dimension "d86" = 20
  dimension "d87" = 10.5
  dimension "d88" = 6
  dimension "d89" = 20
  dimension "d92" = 600
  dimension "d97" = 10.2051
  dimension "d98" = 40
  dimension "d101" = 320
  dimension "d106" = 10
  dimension "d107" = 10
extrude "Extrusion1" add sketch "Sketch1" along normal blind 5 contours L3 L2 L1 L0 | L143 L142 L141 L3 | L1 L148 L147 L149 | L135 L136 L140 L3 | L1 L146 L145 L144
properties part number "SGB-2-middle"
